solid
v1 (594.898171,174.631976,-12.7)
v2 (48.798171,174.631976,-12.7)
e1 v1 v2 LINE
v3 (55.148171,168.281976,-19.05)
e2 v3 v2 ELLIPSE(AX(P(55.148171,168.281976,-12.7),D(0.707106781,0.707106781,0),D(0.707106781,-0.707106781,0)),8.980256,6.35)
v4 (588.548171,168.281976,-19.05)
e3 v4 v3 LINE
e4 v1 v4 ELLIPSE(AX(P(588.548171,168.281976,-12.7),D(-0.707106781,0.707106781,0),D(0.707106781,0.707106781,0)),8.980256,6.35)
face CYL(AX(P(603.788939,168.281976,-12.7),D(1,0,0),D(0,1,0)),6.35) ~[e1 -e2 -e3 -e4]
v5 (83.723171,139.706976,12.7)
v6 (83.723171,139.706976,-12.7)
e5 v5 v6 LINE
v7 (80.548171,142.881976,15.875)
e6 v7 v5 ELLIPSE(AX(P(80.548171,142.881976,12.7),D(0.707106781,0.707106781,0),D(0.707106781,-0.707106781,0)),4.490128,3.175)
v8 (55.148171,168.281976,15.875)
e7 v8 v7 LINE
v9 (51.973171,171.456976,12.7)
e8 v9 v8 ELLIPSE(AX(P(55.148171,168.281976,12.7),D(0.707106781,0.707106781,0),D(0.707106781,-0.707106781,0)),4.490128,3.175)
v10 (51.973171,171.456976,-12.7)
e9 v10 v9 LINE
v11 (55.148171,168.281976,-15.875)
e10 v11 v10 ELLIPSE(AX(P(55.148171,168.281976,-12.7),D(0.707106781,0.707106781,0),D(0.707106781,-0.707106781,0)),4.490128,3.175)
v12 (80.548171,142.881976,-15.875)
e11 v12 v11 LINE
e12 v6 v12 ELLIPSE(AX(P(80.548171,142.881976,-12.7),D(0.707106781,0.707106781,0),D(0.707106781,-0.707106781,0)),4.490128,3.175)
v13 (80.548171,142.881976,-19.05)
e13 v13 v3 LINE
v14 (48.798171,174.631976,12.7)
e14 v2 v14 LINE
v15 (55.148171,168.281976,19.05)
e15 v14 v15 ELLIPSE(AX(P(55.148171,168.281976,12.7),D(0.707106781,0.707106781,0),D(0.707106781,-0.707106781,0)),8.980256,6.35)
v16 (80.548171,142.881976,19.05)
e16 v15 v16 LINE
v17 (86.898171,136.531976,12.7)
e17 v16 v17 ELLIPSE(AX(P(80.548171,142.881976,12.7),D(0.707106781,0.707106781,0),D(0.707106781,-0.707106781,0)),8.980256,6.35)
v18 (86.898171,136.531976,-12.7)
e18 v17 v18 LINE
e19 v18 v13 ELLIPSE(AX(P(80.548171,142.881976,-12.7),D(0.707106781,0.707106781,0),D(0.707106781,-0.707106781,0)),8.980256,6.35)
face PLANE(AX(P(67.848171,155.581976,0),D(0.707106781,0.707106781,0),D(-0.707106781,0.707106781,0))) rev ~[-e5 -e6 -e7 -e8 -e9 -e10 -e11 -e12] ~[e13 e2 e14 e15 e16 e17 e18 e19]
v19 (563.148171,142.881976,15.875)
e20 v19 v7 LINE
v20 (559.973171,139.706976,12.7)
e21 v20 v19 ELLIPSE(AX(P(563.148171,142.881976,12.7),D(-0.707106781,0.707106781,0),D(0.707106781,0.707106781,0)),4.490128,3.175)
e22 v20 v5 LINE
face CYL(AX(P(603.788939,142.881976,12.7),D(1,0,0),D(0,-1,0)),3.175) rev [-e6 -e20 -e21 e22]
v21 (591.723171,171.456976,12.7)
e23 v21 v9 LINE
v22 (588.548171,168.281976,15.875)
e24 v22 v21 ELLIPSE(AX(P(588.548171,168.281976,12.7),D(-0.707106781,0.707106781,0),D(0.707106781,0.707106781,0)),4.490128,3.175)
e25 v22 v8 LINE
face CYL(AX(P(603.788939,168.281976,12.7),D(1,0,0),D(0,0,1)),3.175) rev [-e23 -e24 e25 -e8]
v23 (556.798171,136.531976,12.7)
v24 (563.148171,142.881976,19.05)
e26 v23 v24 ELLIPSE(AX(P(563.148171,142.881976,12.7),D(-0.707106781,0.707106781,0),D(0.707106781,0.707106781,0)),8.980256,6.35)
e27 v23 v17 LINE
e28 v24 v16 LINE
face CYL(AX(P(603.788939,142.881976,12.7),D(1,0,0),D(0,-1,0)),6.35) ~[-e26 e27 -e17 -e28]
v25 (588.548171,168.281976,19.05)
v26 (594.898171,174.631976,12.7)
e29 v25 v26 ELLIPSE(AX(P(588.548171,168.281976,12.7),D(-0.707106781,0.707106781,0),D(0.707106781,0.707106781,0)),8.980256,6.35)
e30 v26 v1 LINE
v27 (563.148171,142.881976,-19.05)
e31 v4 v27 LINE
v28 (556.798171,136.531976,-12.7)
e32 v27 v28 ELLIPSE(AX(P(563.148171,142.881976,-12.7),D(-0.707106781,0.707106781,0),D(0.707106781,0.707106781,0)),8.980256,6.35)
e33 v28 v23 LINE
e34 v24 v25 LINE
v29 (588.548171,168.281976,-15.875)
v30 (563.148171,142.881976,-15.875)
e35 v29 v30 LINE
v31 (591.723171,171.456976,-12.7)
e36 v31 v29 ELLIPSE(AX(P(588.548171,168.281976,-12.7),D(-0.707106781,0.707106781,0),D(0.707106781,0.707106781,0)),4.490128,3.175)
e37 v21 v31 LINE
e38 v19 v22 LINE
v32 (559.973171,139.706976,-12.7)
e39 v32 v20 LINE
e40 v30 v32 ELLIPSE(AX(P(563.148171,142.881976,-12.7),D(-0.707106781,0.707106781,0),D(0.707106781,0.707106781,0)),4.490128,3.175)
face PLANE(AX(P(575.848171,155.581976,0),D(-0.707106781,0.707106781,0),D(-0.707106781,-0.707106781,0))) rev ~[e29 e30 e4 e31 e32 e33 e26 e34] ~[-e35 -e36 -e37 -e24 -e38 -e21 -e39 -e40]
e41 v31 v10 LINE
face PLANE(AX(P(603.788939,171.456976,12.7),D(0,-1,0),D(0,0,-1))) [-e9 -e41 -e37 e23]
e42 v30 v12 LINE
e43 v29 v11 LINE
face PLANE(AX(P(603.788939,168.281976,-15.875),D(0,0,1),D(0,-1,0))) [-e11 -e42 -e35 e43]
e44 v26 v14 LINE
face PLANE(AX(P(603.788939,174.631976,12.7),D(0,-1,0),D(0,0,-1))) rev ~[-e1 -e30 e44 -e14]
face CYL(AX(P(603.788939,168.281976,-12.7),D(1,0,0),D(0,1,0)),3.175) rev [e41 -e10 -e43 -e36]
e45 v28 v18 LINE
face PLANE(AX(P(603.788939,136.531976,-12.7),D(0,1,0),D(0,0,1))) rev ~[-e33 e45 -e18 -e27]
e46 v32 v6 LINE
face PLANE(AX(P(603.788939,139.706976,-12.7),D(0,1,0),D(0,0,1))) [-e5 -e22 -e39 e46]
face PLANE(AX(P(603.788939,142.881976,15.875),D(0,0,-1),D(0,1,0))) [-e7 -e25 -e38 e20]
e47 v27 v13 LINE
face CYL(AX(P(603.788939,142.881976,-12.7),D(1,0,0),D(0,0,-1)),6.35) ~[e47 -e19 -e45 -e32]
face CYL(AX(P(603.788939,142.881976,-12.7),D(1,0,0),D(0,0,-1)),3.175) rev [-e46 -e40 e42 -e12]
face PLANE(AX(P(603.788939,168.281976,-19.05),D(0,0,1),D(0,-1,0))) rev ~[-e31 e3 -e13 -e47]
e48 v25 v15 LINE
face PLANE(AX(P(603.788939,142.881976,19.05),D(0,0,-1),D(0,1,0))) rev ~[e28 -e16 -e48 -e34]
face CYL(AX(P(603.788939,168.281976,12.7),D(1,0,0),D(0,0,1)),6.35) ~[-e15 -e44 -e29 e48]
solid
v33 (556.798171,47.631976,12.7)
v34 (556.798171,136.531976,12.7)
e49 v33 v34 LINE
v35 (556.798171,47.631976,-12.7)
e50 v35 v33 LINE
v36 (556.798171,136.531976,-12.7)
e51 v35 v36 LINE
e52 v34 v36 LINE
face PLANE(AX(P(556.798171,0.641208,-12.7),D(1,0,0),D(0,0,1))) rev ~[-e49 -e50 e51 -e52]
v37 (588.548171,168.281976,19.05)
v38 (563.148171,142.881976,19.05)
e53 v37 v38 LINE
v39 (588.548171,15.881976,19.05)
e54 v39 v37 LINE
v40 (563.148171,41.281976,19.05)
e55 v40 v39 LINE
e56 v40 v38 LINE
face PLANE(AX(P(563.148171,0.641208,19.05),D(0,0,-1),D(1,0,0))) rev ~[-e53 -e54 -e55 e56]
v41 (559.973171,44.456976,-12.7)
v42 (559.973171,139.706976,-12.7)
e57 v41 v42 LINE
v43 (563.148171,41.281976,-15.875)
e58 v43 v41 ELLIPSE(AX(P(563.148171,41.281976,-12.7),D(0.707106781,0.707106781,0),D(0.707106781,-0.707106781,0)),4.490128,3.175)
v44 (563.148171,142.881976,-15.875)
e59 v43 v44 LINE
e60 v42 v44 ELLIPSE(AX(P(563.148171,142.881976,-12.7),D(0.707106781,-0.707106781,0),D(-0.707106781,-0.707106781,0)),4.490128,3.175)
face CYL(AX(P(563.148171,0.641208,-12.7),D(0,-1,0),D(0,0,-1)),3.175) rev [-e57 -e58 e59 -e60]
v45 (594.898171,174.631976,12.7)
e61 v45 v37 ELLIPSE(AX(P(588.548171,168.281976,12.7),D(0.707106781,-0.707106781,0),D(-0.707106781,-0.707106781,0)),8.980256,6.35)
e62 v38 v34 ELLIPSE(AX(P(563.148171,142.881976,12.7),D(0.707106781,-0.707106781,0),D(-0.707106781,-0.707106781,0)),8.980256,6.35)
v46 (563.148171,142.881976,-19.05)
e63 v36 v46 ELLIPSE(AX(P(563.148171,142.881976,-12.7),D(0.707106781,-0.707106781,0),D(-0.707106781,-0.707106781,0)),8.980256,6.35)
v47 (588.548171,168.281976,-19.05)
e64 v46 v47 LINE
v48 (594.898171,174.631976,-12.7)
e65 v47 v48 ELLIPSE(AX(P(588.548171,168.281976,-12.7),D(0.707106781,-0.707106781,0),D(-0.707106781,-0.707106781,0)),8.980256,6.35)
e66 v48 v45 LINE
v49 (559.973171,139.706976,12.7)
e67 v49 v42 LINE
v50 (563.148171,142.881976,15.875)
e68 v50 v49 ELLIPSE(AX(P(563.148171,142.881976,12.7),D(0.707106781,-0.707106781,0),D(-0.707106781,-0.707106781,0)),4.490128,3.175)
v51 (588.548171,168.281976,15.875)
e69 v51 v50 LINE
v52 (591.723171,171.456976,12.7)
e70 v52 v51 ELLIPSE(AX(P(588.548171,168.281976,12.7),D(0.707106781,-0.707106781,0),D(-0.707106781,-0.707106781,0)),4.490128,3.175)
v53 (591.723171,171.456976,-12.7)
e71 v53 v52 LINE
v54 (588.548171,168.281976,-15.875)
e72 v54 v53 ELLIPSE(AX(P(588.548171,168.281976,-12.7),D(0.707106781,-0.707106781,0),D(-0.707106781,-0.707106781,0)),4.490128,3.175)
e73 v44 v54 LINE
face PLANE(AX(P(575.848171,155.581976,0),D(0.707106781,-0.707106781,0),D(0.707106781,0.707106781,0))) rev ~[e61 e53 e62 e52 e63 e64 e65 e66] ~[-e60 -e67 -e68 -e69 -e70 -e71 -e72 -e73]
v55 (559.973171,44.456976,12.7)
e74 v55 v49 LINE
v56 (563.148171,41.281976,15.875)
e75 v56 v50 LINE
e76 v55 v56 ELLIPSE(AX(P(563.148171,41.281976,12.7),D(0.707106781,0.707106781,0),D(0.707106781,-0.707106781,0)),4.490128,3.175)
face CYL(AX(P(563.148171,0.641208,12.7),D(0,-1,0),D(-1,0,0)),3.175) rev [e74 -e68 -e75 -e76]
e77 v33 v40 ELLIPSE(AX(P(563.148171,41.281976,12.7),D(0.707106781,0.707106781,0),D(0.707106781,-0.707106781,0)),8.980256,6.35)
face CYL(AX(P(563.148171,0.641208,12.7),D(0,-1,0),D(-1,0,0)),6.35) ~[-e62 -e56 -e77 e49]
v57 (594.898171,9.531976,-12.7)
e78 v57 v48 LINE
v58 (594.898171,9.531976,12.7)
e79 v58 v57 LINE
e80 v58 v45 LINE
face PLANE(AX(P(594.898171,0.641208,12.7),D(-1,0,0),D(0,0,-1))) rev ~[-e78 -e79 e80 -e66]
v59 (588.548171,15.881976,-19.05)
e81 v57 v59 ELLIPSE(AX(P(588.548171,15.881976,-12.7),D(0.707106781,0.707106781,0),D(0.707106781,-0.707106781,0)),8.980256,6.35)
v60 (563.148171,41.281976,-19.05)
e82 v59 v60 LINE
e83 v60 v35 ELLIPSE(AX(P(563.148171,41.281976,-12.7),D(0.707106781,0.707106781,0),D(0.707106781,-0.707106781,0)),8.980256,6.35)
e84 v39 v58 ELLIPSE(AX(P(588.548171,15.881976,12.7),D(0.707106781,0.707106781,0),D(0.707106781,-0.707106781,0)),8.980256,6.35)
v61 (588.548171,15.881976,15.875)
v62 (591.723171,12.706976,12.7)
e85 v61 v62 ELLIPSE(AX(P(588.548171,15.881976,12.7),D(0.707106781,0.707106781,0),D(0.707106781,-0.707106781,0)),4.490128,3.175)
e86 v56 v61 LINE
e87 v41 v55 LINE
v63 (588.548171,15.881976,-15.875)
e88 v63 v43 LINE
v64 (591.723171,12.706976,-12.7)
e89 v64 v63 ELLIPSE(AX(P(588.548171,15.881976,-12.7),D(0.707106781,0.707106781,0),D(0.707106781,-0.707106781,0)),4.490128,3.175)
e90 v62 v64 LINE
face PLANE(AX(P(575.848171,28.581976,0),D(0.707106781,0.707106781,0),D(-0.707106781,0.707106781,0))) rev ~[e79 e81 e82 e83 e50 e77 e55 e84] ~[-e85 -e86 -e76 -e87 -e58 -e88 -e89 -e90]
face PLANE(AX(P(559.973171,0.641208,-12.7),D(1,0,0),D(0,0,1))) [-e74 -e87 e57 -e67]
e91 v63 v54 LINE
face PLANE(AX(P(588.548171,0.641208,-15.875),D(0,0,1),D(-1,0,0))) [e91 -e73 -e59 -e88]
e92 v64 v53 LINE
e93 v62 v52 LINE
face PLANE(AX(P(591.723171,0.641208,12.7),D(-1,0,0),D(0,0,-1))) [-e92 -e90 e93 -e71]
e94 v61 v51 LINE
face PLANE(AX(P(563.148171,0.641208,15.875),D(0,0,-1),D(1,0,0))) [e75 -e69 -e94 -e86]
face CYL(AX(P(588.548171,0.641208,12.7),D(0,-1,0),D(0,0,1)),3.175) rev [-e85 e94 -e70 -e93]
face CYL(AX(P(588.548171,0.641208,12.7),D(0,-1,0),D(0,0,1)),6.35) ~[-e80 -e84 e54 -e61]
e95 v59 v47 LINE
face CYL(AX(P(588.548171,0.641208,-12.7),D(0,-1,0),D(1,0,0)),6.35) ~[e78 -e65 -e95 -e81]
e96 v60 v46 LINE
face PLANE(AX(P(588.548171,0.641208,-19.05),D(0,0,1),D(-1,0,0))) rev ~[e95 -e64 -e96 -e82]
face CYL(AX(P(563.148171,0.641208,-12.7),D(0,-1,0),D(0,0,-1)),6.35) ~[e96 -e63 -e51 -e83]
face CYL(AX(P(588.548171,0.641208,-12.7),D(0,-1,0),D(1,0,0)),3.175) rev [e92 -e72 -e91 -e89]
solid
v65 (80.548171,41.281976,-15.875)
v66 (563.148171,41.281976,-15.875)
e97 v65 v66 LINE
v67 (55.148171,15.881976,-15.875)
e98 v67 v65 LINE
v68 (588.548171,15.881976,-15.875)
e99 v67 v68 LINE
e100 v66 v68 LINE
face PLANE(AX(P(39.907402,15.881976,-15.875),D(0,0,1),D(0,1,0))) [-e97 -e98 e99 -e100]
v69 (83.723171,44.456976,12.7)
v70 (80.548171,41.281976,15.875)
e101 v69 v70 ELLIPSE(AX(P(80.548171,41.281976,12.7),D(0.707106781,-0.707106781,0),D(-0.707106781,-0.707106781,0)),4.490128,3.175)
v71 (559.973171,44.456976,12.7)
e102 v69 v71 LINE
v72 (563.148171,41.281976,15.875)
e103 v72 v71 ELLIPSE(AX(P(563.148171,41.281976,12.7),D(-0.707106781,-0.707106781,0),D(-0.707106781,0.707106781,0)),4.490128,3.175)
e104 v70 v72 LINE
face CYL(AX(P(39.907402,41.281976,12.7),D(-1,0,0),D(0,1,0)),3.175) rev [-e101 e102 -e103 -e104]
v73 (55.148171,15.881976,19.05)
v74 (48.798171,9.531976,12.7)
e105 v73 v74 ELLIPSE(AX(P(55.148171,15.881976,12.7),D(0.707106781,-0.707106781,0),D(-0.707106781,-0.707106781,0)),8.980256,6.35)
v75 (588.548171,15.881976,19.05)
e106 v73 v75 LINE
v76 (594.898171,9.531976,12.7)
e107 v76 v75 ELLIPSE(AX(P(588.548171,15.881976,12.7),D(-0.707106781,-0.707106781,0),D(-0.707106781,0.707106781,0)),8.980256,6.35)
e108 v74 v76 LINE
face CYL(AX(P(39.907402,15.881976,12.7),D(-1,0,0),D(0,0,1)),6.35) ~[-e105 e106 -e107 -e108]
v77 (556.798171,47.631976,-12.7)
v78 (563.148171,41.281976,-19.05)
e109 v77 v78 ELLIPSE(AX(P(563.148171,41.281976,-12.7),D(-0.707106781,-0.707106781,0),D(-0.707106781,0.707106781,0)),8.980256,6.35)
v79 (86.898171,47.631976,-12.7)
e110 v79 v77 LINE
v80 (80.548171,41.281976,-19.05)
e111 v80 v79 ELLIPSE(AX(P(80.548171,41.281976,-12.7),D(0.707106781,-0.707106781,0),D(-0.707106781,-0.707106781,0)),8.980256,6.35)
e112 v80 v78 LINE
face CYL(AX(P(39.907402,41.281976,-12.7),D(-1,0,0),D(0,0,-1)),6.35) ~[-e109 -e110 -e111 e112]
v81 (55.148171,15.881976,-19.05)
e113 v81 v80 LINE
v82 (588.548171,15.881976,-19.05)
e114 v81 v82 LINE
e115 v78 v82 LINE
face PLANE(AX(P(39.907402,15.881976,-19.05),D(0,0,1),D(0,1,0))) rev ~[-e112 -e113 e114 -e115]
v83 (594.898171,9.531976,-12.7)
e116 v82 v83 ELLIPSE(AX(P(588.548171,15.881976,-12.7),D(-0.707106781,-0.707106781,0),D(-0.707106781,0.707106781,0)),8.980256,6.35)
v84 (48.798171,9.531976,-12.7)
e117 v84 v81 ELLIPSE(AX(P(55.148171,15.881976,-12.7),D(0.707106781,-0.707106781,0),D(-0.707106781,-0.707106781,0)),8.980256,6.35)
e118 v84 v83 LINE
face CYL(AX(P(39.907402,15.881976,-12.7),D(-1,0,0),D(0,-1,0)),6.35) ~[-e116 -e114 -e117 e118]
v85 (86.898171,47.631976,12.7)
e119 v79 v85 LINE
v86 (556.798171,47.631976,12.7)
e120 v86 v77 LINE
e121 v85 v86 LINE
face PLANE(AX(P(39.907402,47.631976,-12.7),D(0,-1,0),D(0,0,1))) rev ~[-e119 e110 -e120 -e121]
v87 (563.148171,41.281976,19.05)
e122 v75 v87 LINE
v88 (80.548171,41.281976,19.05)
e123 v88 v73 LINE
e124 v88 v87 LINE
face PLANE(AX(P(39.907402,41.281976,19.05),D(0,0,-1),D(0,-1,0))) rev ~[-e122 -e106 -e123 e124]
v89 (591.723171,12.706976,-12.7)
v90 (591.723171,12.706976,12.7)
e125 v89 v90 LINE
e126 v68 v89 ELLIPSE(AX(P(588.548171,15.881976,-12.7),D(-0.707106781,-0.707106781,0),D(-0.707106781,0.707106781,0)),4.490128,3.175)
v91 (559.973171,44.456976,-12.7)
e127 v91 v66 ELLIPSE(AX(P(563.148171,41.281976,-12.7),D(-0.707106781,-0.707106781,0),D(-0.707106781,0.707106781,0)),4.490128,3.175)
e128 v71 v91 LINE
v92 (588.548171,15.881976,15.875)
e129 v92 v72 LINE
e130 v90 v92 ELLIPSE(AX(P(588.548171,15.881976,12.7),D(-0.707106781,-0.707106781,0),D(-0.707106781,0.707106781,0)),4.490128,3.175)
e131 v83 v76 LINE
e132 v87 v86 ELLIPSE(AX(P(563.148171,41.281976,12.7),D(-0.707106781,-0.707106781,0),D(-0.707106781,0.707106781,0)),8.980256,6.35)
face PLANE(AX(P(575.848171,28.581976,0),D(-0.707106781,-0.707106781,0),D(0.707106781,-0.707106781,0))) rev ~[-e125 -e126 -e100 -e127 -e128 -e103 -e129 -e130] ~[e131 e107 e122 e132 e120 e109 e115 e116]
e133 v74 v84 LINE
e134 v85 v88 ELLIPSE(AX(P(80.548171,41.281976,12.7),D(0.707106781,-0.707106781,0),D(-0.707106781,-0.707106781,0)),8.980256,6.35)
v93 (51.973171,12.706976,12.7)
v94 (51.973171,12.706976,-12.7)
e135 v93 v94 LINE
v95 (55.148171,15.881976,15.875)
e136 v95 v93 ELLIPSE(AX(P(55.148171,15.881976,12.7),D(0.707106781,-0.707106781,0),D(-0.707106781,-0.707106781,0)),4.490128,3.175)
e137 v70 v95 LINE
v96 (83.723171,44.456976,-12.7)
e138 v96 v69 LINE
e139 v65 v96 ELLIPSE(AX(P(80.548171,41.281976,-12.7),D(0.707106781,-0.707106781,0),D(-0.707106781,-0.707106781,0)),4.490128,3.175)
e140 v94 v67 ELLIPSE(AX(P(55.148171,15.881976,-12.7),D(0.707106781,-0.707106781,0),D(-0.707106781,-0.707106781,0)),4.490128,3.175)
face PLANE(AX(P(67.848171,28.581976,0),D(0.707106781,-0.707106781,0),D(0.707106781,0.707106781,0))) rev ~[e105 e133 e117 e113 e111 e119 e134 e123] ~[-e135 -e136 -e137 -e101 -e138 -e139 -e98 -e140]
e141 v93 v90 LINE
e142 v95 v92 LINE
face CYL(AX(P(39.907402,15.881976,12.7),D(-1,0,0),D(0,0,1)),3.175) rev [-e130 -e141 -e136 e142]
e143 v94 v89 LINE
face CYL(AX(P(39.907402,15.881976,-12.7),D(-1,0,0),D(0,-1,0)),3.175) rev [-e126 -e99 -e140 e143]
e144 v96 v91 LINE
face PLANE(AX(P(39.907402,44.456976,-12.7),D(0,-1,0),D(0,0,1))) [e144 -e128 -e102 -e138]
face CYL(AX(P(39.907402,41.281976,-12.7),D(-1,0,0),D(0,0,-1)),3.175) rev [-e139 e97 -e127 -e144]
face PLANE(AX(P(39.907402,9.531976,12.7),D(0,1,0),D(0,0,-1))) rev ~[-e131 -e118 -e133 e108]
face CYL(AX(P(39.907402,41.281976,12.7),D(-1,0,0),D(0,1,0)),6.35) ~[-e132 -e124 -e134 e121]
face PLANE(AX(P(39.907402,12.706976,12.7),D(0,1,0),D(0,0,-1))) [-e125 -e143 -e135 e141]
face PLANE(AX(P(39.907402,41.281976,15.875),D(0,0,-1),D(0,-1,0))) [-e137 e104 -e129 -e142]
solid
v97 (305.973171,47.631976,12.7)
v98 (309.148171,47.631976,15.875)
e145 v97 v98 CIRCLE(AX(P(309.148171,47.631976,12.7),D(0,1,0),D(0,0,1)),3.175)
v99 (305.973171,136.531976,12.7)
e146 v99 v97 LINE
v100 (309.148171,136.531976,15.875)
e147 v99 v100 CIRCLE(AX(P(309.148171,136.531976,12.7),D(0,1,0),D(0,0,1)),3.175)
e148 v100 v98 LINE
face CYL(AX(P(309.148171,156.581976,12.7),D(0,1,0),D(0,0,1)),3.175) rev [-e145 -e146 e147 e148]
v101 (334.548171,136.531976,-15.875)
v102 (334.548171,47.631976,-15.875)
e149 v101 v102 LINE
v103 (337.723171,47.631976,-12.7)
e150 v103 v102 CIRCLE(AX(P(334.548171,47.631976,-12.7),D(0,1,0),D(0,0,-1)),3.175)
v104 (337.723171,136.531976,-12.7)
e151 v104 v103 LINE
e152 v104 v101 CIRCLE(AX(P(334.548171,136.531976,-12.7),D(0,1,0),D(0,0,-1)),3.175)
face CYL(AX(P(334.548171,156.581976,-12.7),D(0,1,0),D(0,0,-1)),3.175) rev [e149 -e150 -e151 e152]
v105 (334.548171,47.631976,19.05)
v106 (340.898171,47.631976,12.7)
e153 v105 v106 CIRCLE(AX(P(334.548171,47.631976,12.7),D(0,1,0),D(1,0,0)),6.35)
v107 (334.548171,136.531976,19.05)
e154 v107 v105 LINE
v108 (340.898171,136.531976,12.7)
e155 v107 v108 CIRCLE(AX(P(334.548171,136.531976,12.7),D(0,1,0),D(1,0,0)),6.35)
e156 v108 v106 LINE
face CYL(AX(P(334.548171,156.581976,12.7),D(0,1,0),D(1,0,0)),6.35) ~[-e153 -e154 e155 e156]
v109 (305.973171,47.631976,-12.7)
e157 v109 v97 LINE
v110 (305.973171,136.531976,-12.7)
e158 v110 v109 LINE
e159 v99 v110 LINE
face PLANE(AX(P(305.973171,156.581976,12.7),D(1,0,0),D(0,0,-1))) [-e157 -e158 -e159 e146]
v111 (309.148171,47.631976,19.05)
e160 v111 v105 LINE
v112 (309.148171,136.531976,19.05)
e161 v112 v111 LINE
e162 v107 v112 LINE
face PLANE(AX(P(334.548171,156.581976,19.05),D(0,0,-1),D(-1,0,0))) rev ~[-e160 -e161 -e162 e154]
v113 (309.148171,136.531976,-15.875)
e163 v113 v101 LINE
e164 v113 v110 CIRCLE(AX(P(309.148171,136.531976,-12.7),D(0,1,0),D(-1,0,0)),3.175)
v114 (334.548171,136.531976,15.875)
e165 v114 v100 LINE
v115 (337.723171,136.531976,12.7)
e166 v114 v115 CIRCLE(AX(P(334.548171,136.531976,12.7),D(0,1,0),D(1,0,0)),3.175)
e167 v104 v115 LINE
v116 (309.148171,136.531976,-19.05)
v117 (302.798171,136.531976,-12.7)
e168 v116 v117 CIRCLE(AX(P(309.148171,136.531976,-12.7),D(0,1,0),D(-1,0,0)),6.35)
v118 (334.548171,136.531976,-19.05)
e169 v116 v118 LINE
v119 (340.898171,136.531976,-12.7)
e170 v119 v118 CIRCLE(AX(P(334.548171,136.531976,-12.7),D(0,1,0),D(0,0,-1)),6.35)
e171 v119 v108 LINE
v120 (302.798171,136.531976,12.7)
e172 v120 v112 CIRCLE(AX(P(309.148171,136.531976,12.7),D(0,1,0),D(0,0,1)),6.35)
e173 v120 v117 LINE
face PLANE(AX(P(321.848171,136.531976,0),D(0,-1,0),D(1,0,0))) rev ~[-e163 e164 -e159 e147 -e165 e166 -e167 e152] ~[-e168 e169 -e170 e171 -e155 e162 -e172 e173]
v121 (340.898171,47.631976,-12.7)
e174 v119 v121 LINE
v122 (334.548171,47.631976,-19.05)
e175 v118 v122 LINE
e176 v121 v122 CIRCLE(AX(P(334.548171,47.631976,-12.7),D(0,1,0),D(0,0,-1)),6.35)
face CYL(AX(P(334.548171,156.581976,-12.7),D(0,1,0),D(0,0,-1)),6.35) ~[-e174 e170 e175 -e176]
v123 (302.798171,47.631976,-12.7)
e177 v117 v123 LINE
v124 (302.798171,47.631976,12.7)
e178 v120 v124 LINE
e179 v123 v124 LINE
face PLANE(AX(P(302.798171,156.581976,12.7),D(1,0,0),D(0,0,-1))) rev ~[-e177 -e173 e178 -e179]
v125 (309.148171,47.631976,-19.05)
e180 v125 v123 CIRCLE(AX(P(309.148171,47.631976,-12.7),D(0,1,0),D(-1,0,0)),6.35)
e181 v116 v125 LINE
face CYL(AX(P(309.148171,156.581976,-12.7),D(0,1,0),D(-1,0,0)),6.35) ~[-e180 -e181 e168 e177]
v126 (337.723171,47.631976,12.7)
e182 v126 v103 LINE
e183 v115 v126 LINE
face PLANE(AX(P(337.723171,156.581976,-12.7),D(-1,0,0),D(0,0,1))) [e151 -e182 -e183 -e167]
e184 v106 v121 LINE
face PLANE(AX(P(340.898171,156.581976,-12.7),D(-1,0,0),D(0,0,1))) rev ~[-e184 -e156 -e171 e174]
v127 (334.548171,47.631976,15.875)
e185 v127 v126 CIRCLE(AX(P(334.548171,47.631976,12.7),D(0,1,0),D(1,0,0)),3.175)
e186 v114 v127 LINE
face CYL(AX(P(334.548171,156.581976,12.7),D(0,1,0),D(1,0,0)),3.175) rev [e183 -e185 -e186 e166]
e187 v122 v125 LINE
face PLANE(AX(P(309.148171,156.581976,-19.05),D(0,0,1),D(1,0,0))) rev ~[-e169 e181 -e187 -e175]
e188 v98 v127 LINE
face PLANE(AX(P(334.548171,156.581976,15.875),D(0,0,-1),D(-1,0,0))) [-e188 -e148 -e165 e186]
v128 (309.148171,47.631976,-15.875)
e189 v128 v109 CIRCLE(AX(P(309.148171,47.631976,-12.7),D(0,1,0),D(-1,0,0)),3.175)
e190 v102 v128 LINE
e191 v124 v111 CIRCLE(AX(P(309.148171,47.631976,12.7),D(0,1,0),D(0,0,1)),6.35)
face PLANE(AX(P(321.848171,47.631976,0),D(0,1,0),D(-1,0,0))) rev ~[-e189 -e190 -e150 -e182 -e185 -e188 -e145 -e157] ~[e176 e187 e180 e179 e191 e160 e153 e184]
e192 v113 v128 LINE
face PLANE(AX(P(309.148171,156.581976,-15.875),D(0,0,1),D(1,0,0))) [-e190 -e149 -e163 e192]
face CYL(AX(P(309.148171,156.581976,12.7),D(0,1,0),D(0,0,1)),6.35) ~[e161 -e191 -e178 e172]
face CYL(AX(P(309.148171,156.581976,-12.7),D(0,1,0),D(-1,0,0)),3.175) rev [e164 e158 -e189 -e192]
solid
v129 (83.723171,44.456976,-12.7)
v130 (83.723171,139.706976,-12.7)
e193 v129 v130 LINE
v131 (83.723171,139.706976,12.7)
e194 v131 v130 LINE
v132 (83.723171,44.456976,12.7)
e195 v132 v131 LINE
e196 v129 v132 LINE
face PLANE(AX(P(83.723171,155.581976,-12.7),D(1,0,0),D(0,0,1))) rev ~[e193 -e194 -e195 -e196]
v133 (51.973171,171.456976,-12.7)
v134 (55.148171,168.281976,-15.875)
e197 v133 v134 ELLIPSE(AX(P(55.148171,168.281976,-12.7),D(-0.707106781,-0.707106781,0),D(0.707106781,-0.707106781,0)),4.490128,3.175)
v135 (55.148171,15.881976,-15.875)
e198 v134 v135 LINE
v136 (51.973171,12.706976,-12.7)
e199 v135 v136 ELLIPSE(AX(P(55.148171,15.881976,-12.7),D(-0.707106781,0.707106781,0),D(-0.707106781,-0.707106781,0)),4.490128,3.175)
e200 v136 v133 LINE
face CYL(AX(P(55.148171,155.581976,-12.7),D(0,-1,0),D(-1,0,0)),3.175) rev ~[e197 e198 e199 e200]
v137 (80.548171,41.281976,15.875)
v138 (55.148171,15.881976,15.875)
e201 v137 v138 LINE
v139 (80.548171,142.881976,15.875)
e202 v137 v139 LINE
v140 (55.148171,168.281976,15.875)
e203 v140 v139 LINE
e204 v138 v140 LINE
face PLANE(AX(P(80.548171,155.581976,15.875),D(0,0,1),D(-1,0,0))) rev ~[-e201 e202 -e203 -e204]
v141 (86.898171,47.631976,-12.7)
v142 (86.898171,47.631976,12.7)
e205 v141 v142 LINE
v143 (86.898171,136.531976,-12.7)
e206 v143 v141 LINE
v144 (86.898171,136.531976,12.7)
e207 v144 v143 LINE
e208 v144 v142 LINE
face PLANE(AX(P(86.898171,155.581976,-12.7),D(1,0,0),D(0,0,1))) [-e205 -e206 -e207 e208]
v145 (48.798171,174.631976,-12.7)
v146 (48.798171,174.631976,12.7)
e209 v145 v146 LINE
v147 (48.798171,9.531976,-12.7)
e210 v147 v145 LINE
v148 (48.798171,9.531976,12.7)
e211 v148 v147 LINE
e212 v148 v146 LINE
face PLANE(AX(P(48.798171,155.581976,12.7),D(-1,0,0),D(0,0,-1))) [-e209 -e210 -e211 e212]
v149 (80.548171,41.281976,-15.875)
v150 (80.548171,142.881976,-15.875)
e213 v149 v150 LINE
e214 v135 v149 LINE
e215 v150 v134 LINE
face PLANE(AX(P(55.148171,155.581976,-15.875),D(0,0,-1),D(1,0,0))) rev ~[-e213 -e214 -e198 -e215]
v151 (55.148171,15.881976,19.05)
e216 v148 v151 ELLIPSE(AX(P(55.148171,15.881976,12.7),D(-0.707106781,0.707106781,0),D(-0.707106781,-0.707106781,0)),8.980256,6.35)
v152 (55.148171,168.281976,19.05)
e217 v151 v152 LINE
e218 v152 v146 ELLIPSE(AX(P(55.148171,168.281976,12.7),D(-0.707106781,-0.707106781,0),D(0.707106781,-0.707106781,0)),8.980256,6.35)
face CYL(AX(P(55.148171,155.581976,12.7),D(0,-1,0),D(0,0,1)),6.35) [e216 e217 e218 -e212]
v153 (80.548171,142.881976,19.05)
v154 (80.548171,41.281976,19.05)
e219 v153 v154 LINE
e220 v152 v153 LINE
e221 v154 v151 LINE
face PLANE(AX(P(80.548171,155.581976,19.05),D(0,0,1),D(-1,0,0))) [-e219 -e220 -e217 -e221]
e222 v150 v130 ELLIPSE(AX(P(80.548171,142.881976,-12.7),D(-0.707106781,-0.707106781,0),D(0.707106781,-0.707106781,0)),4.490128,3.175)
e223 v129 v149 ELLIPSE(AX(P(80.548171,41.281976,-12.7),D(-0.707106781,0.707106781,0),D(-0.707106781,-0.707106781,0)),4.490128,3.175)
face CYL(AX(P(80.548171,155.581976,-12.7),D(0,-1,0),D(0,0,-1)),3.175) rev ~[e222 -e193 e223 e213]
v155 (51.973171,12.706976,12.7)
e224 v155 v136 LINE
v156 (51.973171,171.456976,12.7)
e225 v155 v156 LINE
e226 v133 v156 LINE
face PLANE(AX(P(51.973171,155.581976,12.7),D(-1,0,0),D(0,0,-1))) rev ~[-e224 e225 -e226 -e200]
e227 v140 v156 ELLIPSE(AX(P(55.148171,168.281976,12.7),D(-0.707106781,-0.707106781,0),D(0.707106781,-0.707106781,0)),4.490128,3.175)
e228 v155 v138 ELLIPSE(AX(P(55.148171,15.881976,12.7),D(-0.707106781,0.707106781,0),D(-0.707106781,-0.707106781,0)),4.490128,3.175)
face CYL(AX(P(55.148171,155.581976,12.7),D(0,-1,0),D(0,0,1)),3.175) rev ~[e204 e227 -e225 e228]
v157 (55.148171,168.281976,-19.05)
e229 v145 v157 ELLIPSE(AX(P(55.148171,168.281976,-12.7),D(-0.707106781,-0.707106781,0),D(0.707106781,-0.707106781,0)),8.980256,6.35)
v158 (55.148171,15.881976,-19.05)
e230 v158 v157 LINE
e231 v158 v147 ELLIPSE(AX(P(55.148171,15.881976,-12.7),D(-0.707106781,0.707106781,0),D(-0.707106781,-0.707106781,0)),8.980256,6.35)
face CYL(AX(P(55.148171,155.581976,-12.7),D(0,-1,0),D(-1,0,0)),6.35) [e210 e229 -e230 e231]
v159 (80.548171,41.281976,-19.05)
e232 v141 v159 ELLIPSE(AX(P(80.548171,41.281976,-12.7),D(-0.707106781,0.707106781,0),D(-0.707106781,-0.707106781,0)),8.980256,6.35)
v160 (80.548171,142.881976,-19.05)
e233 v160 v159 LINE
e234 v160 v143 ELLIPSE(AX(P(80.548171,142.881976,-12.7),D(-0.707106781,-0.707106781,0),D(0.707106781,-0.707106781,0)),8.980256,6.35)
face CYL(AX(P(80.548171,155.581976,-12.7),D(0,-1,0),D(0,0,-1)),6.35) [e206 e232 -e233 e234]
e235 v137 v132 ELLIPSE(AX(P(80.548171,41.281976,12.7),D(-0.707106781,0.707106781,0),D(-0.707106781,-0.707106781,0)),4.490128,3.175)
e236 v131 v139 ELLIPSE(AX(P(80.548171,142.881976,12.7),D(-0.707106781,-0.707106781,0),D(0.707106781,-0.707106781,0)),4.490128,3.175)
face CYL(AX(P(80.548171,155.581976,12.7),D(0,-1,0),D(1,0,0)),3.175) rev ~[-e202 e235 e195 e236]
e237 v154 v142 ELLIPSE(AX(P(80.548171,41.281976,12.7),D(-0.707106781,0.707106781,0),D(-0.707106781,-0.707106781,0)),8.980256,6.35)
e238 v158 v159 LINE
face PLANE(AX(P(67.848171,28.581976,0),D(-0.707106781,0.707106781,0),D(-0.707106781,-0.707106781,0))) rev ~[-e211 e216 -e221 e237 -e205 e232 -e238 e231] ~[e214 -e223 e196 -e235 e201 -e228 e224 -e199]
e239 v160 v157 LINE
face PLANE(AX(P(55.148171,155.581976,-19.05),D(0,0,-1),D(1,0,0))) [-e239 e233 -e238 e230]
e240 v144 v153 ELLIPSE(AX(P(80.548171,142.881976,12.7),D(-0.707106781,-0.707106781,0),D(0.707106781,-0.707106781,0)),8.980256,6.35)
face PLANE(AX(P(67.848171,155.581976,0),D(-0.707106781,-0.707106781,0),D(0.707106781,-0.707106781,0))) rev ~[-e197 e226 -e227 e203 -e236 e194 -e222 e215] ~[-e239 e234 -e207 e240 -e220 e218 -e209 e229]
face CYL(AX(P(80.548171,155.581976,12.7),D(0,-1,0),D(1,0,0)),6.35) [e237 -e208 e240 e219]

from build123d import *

# Parameters (mm, degrees)
STRUCTURAL_MEMBER1_DEPTH      = 154.940768363
STRUCTURAL_MEMBER1_DEPTH_BACK = 27.940768363
STRUCTURAL_MEMBER1_2_DEPTH    = 563.881536726
STRUCTURAL_MEMBER1_3_DEPTH    = 182.881536726
STRUCTURAL_MEMBER1_4_DEPTH    = 563.881536726
STRUCTURAL_MEMBER1_5_DEPTH    = 129


with BuildPart() as part:
    # Sketch1 → Structural Member1 (new, two sides)
    with BuildSketch(Plane(origin=(67.848170594, 155.581975946, 0), x_dir=(1, 0, 0), z_dir=(0, -1, 0))) as structural_member1_sk:
        with BuildLine():
            Line((-12.7, -19.05), (12.7, -19.05))
            ThreePointArc((12.7, -19.05), (17.190128061, -17.190128061), (19.05, -12.7))
            Line((19.05, -12.7), (19.05, 12.7))
            ThreePointArc((19.05, 12.7), (17.190128061, 17.190128061), (12.7, 19.05))
            Line((12.7, 19.05), (-12.7, 19.05))
            ThreePointArc((-12.7, 19.05), (-17.190128061, 17.190128061), (-19.05, 12.7))
            Line((-19.05, 12.7), (-19.05, -12.7))
            ThreePointArc((-19.05, -12.7), (-17.190128061, -17.190128061), (-12.7, -19.05))
        make_face()
        with BuildLine():
            Line((-12.7, -15.875), (12.7, -15.875))
            ThreePointArc((12.7, -15.875), (14.94506403, -14.94506403), (15.875, -12.7))
            Line((15.875, -12.7), (15.875, 12.7))
            ThreePointArc((15.875, 12.7), (14.94506403, 14.94506403), (12.7, 15.875))
            Line((12.7, 15.875), (-12.7, 15.875))
            ThreePointArc((-12.7, 15.875), (-14.94506403, 14.94506403), (-15.875, 12.7))
            Line((-15.875, 12.7), (-15.875, -12.7))
            ThreePointArc((-15.875, -12.7), (-14.94506403, -14.94506403), (-12.7, -15.875))
        make_face(mode=Mode.SUBTRACT)
    extrude(amount=STRUCTURAL_MEMBER1_DEPTH)
    extrude(structural_member1_sk.sketch, amount=-STRUCTURAL_MEMBER1_DEPTH_BACK)

    # Structural Member1 mitre 1
    split(bisect_by=Plane(origin=(67.848170594, 155.581975946, 0), x_dir=(0.707106781, -0.707106781, 0), z_dir=(-0.707106781, -0.707106781, 0)), keep=Keep.TOP)

    # Structural Member1 mitre 2
    split(bisect_by=Plane(origin=(67.848170594, 28.581975946, 0), x_dir=(-0.707106781, -0.707106781, 0), z_dir=(-0.707106781, 0.707106781, 0)), keep=Keep.TOP)


with BuildPart() as body_2:
    # Sketch1 on segment 2 (carried to segment 2) → Structural Member1 2 (new body)
    with BuildSketch(Plane(origin=(39.907402231, 28.581975946, 0), x_dir=(0, 1, 0), z_dir=(1, 0, 0))):
        with BuildLine():
            Line((-12.7, -19.05), (12.7, -19.05))
            ThreePointArc((12.7, -19.05), (17.190128061, -17.190128061), (19.05, -12.7))
            Line((19.05, -12.7), (19.05, 12.7))
            ThreePointArc((19.05, 12.7), (17.190128061, 17.190128061), (12.7, 19.05))
            Line((12.7, 19.05), (-12.7, 19.05))
            ThreePointArc((-12.7, 19.05), (-17.190128061, 17.190128061), (-19.05, 12.7))
            Line((-19.05, 12.7), (-19.05, -12.7))
            ThreePointArc((-19.05, -12.7), (-17.190128061, -17.190128061), (-12.7, -19.05))
        make_face()
        with BuildLine():
            Line((-12.7, -15.875), (12.7, -15.875))
            ThreePointArc((12.7, -15.875), (14.94506403, -14.94506403), (15.875, -12.7))
            Line((15.875, -12.7), (15.875, 12.7))
            ThreePointArc((15.875, 12.7), (14.94506403, 14.94506403), (12.7, 15.875))
            Line((12.7, 15.875), (-12.7, 15.875))
            ThreePointArc((-12.7, 15.875), (-14.94506403, 14.94506403), (-15.875, 12.7))
            Line((-15.875, 12.7), (-15.875, -12.7))
            ThreePointArc((-15.875, -12.7), (-14.94506403, -14.94506403), (-12.7, -15.875))
        make_face(mode=Mode.SUBTRACT)
    extrude(amount=STRUCTURAL_MEMBER1_2_DEPTH)

    # Structural Member1 2 mitre 1
    split(bisect_by=Plane(origin=(67.848170594, 28.581975946, 0), x_dir=(0.707106781, 0.707106781, 0), z_dir=(0.707106781, -0.707106781, 0)), keep=Keep.TOP)

    # Structural Member1 2 mitre 2
    split(bisect_by=Plane(origin=(575.848170594, 28.581975946, 0), x_dir=(0.707106781, -0.707106781, 0), z_dir=(-0.707106781, -0.707106781, 0)), keep=Keep.TOP)


with BuildPart() as body_3:
    # Sketch1 on segment 3 (carried to segment 3) → Structural Member1 3 (new body)
    with BuildSketch(Plane(origin=(575.848170594, 0.641207582, 0), x_dir=(-1, 0, 0), z_dir=(0, 1, 0))):
        with BuildLine():
            Line((-12.7, -19.05), (12.7, -19.05))
            ThreePointArc((12.7, -19.05), (17.190128061, -17.190128061), (19.05, -12.7))
            Line((19.05, -12.7), (19.05, 12.7))
            ThreePointArc((19.05, 12.7), (17.190128061, 17.190128061), (12.7, 19.05))
            Line((12.7, 19.05), (-12.7, 19.05))
            ThreePointArc((-12.7, 19.05), (-17.190128061, 17.190128061), (-19.05, 12.7))
            Line((-19.05, 12.7), (-19.05, -12.7))
            ThreePointArc((-19.05, -12.7), (-17.190128061, -17.190128061), (-12.7, -19.05))
        make_face()
        with BuildLine():
            Line((-12.7, -15.875), (12.7, -15.875))
            ThreePointArc((12.7, -15.875), (14.94506403, -14.94506403), (15.875, -12.7))
            Line((15.875, -12.7), (15.875, 12.7))
            ThreePointArc((15.875, 12.7), (14.94506403, 14.94506403), (12.7, 15.875))
            Line((12.7, 15.875), (-12.7, 15.875))
            ThreePointArc((-12.7, 15.875), (-14.94506403, 14.94506403), (-15.875, 12.7))
            Line((-15.875, 12.7), (-15.875, -12.7))
            ThreePointArc((-15.875, -12.7), (-14.94506403, -14.94506403), (-12.7, -15.875))
        make_face(mode=Mode.SUBTRACT)
    extrude(amount=STRUCTURAL_MEMBER1_3_DEPTH)

    # Structural Member1 3 mitre 1
    split(bisect_by=Plane(origin=(575.848170594, 155.581975946, 0), x_dir=(0.707106781, 0.707106781, 0), z_dir=(0.707106781, -0.707106781, 0)), keep=Keep.TOP)

    # Structural Member1 3 mitre 2
    split(bisect_by=Plane(origin=(575.848170594, 28.581975946, 0), x_dir=(-0.707106781, 0.707106781, 0), z_dir=(0.707106781, 0.707106781, 0)), keep=Keep.TOP)


with BuildPart() as body_4:
    # Sketch1 on segment 4 (carried to segment 4) → Structural Member1 4 (new body)
    with BuildSketch(Plane(origin=(603.788938957, 155.581975946, 0), x_dir=(0, -1, 0), z_dir=(-1, 0, 0))):
        with BuildLine():
            Line((-12.7, -19.05), (12.7, -19.05))
            ThreePointArc((12.7, -19.05), (17.190128061, -17.190128061), (19.05, -12.7))
            Line((19.05, -12.7), (19.05, 12.7))
            ThreePointArc((19.05, 12.7), (17.190128061, 17.190128061), (12.7, 19.05))
            Line((12.7, 19.05), (-12.7, 19.05))
            ThreePointArc((-12.7, 19.05), (-17.190128061, 17.190128061), (-19.05, 12.7))
            Line((-19.05, 12.7), (-19.05, -12.7))
            ThreePointArc((-19.05, -12.7), (-17.190128061, -17.190128061), (-12.7, -19.05))
        make_face()
        with BuildLine():
            Line((-12.7, -15.875), (12.7, -15.875))
            ThreePointArc((12.7, -15.875), (14.94506403, -14.94506403), (15.875, -12.7))
            Line((15.875, -12.7), (15.875, 12.7))
            ThreePointArc((15.875, 12.7), (14.94506403, 14.94506403), (12.7, 15.875))
            Line((12.7, 15.875), (-12.7, 15.875))
            ThreePointArc((-12.7, 15.875), (-14.94506403, 14.94506403), (-15.875, 12.7))
            Line((-15.875, 12.7), (-15.875, -12.7))
            ThreePointArc((-15.875, -12.7), (-14.94506403, -14.94506403), (-12.7, -15.875))
        make_face(mode=Mode.SUBTRACT)
    extrude(amount=STRUCTURAL_MEMBER1_4_DEPTH)

    # Structural Member1 4 mitre 1
    split(bisect_by=Plane(origin=(67.848170594, 155.581975946, 0), x_dir=(-0.707106781, 0.707106781, 0), z_dir=(0.707106781, 0.707106781, 0)), keep=Keep.TOP)

    # Structural Member1 4 mitre 2
    split(bisect_by=Plane(origin=(575.848170594, 155.581975946, 0), x_dir=(-0.707106781, -0.707106781, 0), z_dir=(-0.707106781, 0.707106781, 0)), keep=Keep.TOP)


with BuildPart() as body_5:
    # Sketch1 on segment 5 (carried to segment 5) → Structural Member1 5 (new body)
    with BuildSketch(Plane(origin=(321.848170594, 156.581975946, 0), x_dir=(1, 0, 0), z_dir=(0, -1, 0))):
        with BuildLine():
            Line((-12.7, -19.05), (12.7, -19.05))
            ThreePointArc((12.7, -19.05), (17.190128061, -17.190128061), (19.05, -12.7))
            Line((19.05, -12.7), (19.05, 12.7))
            ThreePointArc((19.05, 12.7), (17.190128061, 17.190128061), (12.7, 19.05))
            Line((12.7, 19.05), (-12.7, 19.05))
            ThreePointArc((-12.7, 19.05), (-17.190128061, 17.190128061), (-19.05, 12.7))
            Line((-19.05, 12.7), (-19.05, -12.7))
            ThreePointArc((-19.05, -12.7), (-17.190128061, -17.190128061), (-12.7, -19.05))
        make_face()
        with BuildLine():
            Line((-12.7, -15.875), (12.7, -15.875))
            ThreePointArc((12.7, -15.875), (14.94506403, -14.94506403), (15.875, -12.7))
            Line((15.875, -12.7), (15.875, 12.7))
            ThreePointArc((15.875, 12.7), (14.94506403, 14.94506403), (12.7, 15.875))
            Line((12.7, 15.875), (-12.7, 15.875))
            ThreePointArc((-12.7, 15.875), (-14.94506403, 14.94506403), (-15.875, 12.7))
            Line((-15.875, 12.7), (-15.875, -12.7))
            ThreePointArc((-15.875, -12.7), (-14.94506403, -14.94506403), (-12.7, -15.875))
        make_face(mode=Mode.SUBTRACT)
    extrude(amount=STRUCTURAL_MEMBER1_5_DEPTH)

    # Structural Member1 5 mitre 1
    split(bisect_by=Plane(origin=(321.848170594, 136.531975946, 0), x_dir=(1, 0, 0), z_dir=(0, -1, 0)), keep=Keep.TOP)

    # Structural Member1 5 mitre 2
    split(bisect_by=Plane(origin=(321.848170594, 47.631975946, 0), x_dir=(-1, 0, 0), z_dir=(0, 1, 0)), keep=Keep.TOP)


solid = Compound([part.part, body_2.part, body_3.part, body_4.part, body_5.part])
